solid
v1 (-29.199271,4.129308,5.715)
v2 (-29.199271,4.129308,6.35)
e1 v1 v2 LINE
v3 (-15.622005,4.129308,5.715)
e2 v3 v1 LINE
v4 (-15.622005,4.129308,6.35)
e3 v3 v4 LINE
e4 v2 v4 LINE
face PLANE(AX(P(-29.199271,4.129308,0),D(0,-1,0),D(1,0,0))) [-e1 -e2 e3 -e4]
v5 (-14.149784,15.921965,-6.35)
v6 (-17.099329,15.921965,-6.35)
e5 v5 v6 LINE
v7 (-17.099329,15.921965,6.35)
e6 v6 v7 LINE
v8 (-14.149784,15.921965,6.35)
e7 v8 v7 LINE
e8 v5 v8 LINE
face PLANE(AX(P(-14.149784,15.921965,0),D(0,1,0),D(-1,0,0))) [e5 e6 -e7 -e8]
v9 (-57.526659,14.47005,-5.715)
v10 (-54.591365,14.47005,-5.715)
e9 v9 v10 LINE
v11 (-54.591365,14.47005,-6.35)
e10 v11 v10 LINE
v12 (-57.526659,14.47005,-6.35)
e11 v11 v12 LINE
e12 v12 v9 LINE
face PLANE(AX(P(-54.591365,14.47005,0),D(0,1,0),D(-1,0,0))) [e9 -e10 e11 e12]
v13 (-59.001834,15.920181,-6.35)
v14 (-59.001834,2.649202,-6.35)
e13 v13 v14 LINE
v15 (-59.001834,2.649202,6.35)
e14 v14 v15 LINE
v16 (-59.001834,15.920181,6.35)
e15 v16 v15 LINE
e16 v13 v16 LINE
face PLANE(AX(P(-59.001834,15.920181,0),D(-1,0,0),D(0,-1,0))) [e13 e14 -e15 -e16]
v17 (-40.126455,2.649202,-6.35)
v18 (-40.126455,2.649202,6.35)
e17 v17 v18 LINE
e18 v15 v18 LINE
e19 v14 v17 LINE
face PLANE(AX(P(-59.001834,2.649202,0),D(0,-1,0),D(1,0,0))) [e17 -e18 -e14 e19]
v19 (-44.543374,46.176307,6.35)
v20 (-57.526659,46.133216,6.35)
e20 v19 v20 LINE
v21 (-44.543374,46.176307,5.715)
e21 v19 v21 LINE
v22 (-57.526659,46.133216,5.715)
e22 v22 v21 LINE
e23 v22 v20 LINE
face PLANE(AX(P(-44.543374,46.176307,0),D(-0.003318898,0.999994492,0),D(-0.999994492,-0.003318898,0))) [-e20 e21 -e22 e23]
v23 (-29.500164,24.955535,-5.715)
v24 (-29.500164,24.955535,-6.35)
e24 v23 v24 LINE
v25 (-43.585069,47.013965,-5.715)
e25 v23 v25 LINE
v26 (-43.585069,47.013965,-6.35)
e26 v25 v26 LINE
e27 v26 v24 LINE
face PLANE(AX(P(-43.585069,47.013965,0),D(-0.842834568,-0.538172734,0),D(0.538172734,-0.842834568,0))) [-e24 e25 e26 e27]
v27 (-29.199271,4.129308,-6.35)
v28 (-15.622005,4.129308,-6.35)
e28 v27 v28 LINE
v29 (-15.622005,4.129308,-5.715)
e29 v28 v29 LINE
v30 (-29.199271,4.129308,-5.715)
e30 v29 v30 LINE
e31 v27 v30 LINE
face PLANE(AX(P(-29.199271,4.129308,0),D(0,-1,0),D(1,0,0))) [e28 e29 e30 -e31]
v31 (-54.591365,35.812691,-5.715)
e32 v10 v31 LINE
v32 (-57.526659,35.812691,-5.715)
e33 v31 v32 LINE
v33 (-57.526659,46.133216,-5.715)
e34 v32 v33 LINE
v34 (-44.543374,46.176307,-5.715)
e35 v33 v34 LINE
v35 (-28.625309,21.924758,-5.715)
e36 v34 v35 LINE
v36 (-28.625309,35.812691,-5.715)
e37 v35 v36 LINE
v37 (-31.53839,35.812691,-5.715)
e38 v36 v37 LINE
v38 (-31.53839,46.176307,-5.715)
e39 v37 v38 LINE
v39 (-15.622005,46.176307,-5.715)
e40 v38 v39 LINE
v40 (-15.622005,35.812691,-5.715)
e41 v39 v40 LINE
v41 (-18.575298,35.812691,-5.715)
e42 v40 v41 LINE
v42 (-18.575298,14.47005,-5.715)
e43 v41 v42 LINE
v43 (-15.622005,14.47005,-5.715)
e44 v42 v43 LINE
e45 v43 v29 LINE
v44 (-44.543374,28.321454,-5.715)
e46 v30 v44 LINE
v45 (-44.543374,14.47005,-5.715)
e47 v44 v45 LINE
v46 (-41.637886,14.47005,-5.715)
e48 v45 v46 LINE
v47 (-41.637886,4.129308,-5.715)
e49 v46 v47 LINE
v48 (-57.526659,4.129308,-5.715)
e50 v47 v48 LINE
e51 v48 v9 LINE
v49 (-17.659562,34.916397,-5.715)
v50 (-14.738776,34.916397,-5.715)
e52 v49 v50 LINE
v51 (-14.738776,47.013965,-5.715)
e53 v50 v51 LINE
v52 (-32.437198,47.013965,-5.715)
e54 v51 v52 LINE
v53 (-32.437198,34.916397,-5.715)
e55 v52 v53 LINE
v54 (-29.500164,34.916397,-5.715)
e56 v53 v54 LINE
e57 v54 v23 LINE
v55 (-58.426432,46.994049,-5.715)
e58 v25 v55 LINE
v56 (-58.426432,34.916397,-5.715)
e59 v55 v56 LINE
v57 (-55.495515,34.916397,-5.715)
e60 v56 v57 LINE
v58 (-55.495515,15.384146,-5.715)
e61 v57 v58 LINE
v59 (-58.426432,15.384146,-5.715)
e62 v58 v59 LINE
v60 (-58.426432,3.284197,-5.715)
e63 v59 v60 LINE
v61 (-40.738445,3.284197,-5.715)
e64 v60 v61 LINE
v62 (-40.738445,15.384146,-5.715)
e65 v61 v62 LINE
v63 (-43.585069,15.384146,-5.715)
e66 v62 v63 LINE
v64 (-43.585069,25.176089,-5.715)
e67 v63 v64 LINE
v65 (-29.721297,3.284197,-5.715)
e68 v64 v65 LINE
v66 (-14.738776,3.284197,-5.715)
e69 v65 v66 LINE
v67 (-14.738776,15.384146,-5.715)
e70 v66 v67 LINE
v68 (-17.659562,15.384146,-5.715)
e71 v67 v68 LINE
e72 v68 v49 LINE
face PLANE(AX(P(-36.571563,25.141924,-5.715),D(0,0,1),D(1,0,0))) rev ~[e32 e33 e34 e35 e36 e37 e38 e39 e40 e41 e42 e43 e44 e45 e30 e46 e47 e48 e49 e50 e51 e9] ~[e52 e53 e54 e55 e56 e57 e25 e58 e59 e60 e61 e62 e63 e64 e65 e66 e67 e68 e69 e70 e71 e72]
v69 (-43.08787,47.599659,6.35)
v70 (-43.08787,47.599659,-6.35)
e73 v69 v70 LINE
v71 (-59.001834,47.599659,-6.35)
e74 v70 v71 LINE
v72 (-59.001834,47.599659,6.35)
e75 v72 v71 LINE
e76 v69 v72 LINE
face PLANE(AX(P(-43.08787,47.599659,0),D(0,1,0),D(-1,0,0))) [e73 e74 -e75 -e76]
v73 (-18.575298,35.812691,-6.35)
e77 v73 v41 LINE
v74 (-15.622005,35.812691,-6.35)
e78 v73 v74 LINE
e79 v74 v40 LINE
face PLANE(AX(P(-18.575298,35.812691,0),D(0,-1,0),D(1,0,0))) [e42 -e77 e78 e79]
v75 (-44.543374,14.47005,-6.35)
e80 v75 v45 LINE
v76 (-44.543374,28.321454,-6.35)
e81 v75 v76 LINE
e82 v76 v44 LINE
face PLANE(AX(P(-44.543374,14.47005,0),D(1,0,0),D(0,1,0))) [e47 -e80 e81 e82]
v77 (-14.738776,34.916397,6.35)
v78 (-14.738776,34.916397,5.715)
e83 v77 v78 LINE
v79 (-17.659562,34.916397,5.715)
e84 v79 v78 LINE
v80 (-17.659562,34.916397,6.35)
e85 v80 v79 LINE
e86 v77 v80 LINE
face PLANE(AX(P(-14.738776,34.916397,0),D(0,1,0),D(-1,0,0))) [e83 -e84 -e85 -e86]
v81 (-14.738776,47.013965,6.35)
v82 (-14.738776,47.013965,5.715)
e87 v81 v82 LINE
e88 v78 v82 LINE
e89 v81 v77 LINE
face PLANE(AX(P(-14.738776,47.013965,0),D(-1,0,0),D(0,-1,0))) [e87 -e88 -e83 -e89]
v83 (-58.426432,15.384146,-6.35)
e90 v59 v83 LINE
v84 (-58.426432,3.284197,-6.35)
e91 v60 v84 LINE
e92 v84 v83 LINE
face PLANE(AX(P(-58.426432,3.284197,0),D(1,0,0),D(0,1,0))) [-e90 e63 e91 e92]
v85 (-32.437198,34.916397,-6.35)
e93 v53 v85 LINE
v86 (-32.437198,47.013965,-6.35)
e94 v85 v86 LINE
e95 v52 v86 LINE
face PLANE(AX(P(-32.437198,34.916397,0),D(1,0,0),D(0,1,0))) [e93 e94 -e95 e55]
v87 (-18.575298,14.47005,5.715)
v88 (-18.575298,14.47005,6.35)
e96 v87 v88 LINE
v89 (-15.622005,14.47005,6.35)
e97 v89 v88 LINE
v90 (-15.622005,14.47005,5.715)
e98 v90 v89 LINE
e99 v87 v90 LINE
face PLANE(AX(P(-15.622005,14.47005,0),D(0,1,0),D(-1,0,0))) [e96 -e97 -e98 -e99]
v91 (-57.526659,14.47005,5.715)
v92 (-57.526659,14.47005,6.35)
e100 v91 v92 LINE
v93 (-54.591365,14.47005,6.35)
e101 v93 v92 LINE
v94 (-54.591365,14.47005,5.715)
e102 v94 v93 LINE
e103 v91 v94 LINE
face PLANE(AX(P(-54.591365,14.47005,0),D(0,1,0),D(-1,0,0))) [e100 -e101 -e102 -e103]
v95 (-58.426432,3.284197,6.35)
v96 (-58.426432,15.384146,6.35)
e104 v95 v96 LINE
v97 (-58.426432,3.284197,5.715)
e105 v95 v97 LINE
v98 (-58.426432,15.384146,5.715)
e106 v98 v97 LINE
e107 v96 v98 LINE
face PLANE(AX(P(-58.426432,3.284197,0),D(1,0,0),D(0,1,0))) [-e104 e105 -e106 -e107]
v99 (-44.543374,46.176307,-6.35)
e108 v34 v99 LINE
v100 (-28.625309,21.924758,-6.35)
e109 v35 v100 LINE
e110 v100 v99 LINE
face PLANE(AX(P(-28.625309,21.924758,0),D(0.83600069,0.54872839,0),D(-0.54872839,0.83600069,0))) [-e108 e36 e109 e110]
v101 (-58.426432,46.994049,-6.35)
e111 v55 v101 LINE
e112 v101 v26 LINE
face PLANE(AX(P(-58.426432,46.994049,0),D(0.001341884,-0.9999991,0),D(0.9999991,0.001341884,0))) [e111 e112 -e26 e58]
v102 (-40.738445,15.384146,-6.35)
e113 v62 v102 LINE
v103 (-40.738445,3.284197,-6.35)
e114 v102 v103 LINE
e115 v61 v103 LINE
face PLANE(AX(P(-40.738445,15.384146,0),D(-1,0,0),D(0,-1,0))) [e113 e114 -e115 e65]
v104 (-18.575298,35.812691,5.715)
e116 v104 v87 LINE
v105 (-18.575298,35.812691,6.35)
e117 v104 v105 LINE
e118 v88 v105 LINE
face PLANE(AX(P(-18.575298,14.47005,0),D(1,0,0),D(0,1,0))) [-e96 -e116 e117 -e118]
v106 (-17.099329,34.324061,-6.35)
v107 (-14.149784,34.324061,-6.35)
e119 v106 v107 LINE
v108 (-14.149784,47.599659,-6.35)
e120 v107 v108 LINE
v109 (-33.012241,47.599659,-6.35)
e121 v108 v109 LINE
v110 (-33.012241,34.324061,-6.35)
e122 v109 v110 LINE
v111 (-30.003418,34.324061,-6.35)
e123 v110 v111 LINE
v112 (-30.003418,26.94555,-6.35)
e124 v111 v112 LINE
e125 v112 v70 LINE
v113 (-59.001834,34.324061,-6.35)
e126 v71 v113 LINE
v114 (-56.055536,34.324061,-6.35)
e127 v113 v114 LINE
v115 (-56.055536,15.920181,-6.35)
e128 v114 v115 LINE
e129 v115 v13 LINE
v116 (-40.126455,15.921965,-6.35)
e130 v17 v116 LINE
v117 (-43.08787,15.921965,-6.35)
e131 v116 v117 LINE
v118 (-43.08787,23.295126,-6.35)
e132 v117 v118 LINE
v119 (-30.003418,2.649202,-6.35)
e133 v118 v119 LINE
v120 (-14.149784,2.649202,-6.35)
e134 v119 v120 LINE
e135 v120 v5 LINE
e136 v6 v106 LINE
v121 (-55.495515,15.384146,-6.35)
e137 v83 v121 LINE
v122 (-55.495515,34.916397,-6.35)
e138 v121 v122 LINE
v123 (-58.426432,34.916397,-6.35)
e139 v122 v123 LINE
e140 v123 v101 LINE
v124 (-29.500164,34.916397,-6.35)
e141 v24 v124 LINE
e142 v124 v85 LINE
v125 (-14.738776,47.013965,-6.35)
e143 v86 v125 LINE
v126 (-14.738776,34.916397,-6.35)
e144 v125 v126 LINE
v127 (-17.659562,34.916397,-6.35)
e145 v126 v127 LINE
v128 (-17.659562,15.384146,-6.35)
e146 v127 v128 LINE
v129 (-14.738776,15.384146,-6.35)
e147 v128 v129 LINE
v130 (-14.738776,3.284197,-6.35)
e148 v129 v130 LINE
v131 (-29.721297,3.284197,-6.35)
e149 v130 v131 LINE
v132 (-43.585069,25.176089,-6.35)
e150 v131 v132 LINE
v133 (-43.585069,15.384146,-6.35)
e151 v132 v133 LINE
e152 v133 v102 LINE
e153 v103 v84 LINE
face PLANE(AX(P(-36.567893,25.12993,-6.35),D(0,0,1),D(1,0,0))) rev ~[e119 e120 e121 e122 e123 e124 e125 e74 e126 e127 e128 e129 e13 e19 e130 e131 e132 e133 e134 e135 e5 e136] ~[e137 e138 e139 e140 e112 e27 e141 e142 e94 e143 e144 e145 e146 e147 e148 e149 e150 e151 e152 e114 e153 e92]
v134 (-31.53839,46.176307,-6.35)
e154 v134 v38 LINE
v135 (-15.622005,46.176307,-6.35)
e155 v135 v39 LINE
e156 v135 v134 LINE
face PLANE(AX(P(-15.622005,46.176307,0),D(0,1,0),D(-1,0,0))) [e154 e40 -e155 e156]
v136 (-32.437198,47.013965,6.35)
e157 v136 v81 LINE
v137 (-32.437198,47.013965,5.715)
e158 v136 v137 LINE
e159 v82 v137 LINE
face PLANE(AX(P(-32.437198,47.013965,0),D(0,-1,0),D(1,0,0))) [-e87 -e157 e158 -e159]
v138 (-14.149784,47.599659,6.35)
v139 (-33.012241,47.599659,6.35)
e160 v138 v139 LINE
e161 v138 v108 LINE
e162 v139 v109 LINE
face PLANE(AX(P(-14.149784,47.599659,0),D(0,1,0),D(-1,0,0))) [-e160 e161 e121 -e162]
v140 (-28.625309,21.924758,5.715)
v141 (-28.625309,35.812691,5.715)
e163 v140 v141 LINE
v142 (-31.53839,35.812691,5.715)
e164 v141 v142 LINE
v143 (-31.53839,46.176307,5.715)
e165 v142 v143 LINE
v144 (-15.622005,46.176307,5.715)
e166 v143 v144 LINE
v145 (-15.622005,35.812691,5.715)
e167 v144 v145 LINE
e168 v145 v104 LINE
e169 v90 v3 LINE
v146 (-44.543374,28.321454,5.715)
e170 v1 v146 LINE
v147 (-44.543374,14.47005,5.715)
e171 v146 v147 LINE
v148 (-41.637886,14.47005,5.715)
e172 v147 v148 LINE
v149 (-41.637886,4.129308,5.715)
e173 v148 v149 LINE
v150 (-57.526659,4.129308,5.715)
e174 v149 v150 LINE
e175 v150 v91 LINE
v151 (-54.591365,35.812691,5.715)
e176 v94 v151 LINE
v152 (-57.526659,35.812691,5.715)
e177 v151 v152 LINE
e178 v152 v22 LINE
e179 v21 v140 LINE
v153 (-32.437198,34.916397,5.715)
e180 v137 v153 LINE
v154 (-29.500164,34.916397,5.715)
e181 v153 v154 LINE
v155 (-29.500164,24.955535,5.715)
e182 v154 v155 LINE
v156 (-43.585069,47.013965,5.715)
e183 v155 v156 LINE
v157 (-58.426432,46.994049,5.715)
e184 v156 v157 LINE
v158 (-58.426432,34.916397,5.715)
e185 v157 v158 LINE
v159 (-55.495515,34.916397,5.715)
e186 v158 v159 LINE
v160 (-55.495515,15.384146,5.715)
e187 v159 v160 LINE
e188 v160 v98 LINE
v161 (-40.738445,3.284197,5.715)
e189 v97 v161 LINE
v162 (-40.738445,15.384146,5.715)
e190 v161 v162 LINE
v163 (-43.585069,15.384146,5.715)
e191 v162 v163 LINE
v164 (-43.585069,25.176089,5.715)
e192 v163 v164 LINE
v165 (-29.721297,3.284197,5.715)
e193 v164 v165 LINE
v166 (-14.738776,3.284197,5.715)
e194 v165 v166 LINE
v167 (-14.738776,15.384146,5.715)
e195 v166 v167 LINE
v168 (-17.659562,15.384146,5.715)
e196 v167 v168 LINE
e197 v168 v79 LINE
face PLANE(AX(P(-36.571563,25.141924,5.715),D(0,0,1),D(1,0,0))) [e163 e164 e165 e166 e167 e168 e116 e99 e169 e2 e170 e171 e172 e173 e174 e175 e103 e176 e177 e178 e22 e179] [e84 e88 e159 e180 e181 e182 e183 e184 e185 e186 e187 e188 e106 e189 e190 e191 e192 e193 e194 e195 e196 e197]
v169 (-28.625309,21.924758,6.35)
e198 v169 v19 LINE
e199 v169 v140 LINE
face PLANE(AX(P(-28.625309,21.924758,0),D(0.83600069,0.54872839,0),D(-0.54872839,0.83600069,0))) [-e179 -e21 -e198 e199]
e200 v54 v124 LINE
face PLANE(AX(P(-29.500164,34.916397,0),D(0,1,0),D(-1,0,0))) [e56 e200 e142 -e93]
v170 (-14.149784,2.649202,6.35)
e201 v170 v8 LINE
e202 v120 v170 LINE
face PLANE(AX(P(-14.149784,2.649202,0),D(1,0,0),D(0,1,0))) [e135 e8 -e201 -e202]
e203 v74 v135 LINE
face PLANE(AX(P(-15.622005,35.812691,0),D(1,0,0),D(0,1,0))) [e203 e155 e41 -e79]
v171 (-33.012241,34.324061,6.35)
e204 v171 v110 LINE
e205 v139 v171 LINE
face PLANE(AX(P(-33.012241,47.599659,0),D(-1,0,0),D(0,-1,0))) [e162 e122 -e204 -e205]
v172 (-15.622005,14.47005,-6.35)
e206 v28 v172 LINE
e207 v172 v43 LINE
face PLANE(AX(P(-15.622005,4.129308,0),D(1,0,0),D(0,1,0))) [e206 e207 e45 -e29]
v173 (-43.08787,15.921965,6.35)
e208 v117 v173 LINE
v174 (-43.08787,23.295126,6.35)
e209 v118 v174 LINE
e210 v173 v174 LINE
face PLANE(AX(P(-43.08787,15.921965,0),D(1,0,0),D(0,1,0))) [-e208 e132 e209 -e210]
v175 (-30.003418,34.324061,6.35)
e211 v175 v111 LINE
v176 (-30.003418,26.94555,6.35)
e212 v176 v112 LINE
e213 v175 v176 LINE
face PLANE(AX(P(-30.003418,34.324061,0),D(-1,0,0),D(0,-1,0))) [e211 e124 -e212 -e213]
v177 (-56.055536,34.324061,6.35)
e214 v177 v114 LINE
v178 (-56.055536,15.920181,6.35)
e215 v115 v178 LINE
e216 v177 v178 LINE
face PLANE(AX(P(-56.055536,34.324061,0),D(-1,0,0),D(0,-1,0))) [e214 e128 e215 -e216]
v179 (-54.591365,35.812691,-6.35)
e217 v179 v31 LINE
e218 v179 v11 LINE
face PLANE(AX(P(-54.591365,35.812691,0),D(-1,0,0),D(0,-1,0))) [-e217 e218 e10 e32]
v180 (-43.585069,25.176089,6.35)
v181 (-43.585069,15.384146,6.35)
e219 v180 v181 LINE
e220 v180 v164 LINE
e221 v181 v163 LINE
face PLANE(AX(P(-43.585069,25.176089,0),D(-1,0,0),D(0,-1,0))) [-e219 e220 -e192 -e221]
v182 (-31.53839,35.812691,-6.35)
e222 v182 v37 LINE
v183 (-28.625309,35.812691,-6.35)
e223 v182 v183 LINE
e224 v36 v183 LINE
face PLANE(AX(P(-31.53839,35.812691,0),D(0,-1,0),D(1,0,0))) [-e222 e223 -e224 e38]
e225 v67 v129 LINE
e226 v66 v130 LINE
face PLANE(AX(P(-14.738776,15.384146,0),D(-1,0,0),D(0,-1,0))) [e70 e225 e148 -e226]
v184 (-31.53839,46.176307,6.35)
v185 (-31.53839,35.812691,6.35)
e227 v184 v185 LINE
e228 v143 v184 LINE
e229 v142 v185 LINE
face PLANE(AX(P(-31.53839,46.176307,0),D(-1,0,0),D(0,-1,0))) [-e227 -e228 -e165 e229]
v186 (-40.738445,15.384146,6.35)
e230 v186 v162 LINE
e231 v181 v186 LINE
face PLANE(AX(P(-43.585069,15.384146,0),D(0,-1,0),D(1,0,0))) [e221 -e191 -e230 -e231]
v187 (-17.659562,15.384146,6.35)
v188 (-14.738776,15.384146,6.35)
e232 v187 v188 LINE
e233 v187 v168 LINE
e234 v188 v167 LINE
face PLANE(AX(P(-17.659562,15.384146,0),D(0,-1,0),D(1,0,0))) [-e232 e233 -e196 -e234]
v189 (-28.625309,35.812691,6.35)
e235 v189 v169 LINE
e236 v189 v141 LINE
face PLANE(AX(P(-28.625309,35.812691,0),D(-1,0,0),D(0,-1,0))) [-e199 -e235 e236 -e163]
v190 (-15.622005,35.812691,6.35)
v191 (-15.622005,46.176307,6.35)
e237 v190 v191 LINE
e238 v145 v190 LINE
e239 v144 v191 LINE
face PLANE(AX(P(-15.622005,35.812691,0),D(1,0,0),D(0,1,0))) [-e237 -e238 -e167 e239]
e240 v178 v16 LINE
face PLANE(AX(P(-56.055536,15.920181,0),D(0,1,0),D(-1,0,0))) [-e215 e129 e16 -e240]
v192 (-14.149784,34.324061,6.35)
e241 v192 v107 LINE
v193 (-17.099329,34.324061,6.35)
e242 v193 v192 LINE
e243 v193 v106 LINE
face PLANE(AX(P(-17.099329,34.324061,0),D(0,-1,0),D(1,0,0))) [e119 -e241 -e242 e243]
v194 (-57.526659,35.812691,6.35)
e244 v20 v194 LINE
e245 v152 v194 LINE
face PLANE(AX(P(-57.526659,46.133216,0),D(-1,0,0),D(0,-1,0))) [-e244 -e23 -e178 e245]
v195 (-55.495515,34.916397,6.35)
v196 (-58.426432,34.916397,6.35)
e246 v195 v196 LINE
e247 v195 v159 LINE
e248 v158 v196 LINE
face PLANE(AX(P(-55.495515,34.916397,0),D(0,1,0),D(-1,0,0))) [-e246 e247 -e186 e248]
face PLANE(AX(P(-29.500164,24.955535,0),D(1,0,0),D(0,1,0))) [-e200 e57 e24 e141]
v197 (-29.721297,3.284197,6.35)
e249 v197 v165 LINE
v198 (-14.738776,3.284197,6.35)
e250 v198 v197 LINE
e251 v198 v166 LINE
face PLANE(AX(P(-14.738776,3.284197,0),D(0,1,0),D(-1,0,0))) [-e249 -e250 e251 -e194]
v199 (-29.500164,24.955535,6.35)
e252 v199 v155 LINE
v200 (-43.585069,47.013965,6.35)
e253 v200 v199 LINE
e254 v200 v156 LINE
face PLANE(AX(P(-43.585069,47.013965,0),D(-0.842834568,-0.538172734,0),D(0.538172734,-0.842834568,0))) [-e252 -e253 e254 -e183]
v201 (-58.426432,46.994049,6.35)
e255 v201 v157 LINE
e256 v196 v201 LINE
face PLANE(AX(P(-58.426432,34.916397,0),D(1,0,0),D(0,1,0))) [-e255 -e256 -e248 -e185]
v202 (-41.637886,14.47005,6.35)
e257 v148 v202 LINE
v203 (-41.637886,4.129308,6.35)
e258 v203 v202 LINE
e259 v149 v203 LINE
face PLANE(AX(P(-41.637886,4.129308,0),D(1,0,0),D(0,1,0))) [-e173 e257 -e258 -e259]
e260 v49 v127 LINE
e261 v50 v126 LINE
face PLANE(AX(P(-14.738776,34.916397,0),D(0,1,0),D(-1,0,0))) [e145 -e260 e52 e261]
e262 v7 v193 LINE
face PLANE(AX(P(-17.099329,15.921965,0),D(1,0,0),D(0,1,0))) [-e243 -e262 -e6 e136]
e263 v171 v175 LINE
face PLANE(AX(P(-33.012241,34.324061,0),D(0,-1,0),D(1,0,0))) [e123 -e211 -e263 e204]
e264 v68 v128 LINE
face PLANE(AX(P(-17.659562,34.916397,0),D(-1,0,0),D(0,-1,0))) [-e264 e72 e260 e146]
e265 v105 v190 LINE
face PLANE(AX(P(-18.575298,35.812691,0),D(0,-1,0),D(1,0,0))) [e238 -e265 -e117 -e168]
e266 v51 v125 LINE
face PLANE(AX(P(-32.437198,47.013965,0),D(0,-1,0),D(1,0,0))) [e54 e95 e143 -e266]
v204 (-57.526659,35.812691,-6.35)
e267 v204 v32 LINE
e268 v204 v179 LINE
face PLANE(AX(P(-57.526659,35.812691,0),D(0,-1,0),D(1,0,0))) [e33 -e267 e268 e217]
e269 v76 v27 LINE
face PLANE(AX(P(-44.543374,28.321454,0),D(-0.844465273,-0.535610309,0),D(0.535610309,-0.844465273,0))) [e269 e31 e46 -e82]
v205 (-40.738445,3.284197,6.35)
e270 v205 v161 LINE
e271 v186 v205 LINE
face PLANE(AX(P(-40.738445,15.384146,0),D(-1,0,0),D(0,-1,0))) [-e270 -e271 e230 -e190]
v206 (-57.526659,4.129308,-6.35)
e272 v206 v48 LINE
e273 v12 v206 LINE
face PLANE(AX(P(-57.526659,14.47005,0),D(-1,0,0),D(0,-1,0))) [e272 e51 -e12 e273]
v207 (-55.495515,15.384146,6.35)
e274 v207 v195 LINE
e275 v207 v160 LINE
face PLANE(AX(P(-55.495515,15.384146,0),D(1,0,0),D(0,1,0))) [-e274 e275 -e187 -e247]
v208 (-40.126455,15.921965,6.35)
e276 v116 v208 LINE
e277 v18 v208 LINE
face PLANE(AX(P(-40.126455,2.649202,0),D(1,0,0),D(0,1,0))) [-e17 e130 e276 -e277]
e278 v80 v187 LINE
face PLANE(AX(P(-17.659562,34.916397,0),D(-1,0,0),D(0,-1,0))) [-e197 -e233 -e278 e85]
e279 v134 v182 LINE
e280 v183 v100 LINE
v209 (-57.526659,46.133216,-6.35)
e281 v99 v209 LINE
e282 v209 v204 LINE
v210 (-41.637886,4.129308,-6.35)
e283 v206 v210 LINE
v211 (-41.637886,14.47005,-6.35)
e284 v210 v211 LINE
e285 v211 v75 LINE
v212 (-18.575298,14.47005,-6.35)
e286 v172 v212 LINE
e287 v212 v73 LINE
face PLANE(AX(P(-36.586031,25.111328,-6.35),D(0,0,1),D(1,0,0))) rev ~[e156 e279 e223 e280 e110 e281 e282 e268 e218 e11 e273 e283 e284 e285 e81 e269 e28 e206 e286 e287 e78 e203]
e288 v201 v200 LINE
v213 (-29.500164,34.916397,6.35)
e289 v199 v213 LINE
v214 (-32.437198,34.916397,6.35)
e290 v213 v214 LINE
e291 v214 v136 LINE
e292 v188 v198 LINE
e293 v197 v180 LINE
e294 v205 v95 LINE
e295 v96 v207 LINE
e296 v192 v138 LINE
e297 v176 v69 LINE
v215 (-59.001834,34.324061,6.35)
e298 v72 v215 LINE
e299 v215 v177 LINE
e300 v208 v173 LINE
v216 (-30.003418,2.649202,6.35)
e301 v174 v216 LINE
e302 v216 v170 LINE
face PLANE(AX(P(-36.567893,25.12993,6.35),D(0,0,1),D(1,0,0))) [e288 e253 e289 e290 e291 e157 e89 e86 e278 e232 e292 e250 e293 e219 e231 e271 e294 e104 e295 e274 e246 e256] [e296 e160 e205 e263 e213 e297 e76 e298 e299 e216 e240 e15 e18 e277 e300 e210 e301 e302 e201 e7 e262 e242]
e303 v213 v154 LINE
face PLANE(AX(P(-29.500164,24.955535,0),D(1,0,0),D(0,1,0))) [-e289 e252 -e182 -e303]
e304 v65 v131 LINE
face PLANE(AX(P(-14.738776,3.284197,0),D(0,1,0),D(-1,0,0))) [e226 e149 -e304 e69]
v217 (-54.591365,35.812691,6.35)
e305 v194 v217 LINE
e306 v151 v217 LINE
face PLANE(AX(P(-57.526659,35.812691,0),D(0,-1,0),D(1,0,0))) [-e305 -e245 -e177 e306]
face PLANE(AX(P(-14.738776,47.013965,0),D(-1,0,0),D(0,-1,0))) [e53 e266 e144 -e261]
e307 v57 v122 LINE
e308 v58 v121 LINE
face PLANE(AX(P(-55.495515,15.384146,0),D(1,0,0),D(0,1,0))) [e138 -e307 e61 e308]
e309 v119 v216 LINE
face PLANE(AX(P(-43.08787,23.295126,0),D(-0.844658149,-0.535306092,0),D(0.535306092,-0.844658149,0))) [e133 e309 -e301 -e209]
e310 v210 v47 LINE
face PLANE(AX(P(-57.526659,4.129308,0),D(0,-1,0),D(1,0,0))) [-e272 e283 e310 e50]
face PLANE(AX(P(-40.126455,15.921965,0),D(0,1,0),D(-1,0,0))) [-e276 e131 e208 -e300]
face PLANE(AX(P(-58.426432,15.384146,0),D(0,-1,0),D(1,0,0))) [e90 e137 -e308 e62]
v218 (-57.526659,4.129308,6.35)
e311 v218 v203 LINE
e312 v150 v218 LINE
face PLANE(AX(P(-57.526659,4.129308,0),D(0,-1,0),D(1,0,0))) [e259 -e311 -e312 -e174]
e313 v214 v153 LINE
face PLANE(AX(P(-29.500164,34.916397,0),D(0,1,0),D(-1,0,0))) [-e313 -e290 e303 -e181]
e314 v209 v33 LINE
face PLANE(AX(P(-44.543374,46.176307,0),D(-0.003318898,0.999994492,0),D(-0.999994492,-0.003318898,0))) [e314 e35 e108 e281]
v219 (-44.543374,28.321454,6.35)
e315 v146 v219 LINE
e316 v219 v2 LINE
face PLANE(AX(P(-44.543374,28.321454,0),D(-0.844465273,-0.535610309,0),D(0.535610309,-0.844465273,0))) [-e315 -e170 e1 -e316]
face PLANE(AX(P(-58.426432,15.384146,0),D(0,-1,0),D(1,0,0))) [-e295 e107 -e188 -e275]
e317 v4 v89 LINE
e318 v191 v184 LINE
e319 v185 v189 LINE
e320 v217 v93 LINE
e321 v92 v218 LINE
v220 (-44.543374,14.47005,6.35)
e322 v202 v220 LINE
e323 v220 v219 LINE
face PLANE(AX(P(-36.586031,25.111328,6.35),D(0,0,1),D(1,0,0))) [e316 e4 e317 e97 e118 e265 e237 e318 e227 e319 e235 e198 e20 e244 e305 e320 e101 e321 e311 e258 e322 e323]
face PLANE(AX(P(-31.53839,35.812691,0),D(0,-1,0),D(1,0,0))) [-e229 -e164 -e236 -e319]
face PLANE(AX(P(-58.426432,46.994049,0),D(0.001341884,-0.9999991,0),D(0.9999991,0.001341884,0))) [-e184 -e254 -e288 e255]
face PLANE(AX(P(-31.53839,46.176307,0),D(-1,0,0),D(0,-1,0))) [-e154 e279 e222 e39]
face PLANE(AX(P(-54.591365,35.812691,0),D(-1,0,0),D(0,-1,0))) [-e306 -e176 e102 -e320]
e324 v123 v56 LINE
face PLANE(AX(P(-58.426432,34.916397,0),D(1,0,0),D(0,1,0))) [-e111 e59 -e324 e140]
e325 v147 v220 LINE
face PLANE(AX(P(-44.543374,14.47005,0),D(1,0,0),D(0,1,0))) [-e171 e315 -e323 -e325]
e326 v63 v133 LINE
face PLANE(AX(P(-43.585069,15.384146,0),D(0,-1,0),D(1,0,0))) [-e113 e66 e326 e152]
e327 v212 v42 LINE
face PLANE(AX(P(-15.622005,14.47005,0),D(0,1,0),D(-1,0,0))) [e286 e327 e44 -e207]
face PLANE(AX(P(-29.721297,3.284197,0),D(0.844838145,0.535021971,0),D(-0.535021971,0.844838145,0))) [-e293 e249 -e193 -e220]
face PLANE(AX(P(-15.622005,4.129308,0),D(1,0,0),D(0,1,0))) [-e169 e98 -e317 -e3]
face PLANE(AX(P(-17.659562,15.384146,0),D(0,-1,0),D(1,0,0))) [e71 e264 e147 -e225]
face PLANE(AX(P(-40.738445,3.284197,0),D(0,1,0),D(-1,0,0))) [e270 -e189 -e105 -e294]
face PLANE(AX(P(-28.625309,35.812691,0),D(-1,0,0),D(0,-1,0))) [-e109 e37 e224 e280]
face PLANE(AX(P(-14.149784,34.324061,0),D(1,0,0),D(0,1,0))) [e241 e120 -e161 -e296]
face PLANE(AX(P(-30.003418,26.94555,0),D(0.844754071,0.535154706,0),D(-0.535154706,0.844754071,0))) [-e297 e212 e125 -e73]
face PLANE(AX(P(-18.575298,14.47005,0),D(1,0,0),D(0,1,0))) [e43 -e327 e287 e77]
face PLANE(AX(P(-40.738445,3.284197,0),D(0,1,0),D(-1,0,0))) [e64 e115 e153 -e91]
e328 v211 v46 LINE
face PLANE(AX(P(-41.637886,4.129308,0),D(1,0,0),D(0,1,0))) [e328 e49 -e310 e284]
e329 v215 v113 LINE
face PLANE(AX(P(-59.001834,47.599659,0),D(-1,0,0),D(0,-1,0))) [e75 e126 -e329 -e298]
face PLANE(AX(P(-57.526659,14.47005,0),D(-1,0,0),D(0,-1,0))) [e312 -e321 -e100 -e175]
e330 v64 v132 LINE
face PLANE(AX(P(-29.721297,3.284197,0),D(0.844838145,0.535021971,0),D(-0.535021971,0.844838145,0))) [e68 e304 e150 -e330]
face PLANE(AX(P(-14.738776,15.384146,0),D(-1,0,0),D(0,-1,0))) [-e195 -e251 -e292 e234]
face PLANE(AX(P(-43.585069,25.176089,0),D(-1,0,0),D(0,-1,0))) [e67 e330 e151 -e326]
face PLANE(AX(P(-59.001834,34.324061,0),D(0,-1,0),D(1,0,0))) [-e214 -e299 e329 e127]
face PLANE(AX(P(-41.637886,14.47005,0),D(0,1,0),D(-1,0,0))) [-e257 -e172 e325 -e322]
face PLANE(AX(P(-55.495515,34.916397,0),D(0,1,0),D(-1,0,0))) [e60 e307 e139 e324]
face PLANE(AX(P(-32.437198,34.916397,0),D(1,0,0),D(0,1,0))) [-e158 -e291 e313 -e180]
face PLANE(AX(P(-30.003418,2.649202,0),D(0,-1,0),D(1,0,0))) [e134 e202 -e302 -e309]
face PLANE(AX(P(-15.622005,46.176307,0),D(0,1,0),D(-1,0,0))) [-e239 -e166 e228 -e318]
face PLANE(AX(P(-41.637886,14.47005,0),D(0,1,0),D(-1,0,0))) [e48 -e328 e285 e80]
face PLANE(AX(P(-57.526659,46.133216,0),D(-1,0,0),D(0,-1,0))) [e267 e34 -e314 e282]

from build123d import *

# Parameters (mm, degrees)
F3_DEPTH = 6.35
F4_DEPTH = 5.715


with BuildPart() as f3:
    # F2 (on face) → F3 (new body, symmetric)
    with BuildSketch(Plane.XY):
        Polygon((-44.5433743298, 46.1763069034), (-57.5266592205, 46.1332164705), (-57.5266592205, 35.8126908541), (-54.5913651586, 35.8126908541), (-54.5913651586, 14.4700501114), (-57.5266592205, 14.4700501114), (-57.5266592205, 4.1293082759), (-41.6378863156, 4.1293082759), (-41.6378863156, 14.4700501114), (-44.5433743298, 14.4700501114), (-44.5433743298, 28.3214543015), (-29.1992705315, 4.1293082759), (-15.6220048666, 4.1293082759), (-15.6220048666, 14.4700501114), (-18.5752976686, 14.4700501114), (-18.5752976686, 35.8126908541), (-15.6220048666, 35.8126908541), (-15.6220048666, 46.1763069034), (-31.5383896232, 46.1763069034), (-31.5383896232, 35.8126908541), (-28.6253094673, 35.8126908541), (-28.6253094673, 21.92475833), align=None)
    extrude(amount=F3_DEPTH, both=True)



with BuildPart() as f3b:
    # F1 (on face) → F3, piece 2 (new body, symmetric)
    with BuildSketch(Plane.XY):
        Polygon((-56.0555362153, 34.3240606943), (-56.0555362153, 15.9201806872), (-59.0018344771, 15.9201806872), (-59.0018344771, 2.6492023655), (-40.1264553645, 2.6492023655), (-40.1264553645, 15.9219650984), (-43.0878697398, 15.9219650984), (-43.0878697398, 23.2951258444), (-30.0034182126, 2.6492023655), (-14.1497837651, 2.6492023655), (-14.1497837651, 15.9219650984), (-17.0993286024, 15.9219650984), (-17.0993286024, 34.3240606943), (-14.1497837651, 34.3240606943), (-14.1497837651, 47.5996589474), (-33.0122411207, 47.5996589474), (-33.0122411207, 34.3240606943), (-30.0034182126, 34.3240606943), (-30.0034182126, 26.9455498071), (-43.0878697398, 47.5996589474), (-59.0018344771, 47.5996589474), (-59.0018344771, 34.3240606943), align=None)
        Polygon((-58.4264323115, 34.9163971841), (-58.4264323115, 46.9940491021), (-43.5850694776, 47.013964504), (-29.5001640916, 24.9555353075), (-29.5001640916, 34.9163971841), (-32.4371978641, 34.9163971841), (-32.4371978641, 47.013964504), (-14.7387757897, 47.013964504), (-14.7387757897, 34.9163971841), (-17.6595617086, 34.9163971841), (-17.6595617086, 15.3841460124), (-14.7387757897, 15.3841460124), (-14.7387757897, 3.2841966022), (-29.7212973237, 3.2841966022), (-43.5850694776, 25.176089257), (-43.5850694776, 15.3841460124), (-40.7384447753, 15.3841460124), (-40.7384447753, 3.2841966022), (-58.4264323115, 3.2841966022), (-58.4264323115, 15.3841460124), (-55.4955154657, 15.3841460124), (-55.4955154657, 34.9163971841), align=None, mode=Mode.SUBTRACT)
    extrude(amount=F3_DEPTH, both=True)


with BuildPart() as f3_1:
    add(f3.part)

    add(f3b.part)  # F4 merges F3b
    # F2 (on face) → F4 (join, symmetric)
    with BuildSketch(Plane.XY):
        Polygon((-58.4264323115, 46.9940491021), (-58.4264323115, 34.9163971841), (-55.4955154657, 34.9163971841), (-55.4955154657, 15.3841460124), (-58.4264323115, 15.3841460124), (-58.4264323115, 3.2841966022), (-40.7384447753, 3.2841966022), (-40.7384447753, 15.3841460124), (-43.5850694776, 15.3841460124), (-43.5850694776, 25.176089257), (-29.7212973237, 3.2841966022), (-14.7387757897, 3.2841966022), (-14.7387757897, 15.3841460124), (-17.6595617086, 15.3841460124), (-17.6595617086, 34.9163971841), (-14.7387757897, 34.9163971841), (-14.7387757897, 47.013964504), (-32.4371978641, 47.013964504), (-32.4371978641, 34.9163971841), (-29.5001640916, 34.9163971841), (-29.5001640916, 24.9555353075), (-43.5850694776, 47.013964504), align=None)
        Polygon((-57.5266592205, 35.8126908541), (-57.5266592205, 46.1332164705), (-44.5433743298, 46.1763069034), (-28.6253094673, 21.92475833), (-28.6253094673, 35.8126908541), (-31.5383896232, 35.8126908541), (-31.5383896232, 46.1763069034), (-15.6220048666, 46.1763069034), (-15.6220048666, 35.8126908541), (-18.5752976686, 35.8126908541), (-18.5752976686, 14.4700501114), (-15.6220048666, 14.4700501114), (-15.6220048666, 4.1293082759), (-29.1992705315, 4.1293082759), (-44.5433743298, 28.3214543015), (-44.5433743298, 14.4700501114), (-41.6378863156, 14.4700501114), (-41.6378863156, 4.1293082759), (-57.5266592205, 4.1293082759), (-57.5266592205, 14.4700501114), (-54.5913651586, 14.4700501114), (-54.5913651586, 35.8126908541), align=None, mode=Mode.SUBTRACT)
    extrude(amount=F4_DEPTH, both=True)


solid = f3_1.part
